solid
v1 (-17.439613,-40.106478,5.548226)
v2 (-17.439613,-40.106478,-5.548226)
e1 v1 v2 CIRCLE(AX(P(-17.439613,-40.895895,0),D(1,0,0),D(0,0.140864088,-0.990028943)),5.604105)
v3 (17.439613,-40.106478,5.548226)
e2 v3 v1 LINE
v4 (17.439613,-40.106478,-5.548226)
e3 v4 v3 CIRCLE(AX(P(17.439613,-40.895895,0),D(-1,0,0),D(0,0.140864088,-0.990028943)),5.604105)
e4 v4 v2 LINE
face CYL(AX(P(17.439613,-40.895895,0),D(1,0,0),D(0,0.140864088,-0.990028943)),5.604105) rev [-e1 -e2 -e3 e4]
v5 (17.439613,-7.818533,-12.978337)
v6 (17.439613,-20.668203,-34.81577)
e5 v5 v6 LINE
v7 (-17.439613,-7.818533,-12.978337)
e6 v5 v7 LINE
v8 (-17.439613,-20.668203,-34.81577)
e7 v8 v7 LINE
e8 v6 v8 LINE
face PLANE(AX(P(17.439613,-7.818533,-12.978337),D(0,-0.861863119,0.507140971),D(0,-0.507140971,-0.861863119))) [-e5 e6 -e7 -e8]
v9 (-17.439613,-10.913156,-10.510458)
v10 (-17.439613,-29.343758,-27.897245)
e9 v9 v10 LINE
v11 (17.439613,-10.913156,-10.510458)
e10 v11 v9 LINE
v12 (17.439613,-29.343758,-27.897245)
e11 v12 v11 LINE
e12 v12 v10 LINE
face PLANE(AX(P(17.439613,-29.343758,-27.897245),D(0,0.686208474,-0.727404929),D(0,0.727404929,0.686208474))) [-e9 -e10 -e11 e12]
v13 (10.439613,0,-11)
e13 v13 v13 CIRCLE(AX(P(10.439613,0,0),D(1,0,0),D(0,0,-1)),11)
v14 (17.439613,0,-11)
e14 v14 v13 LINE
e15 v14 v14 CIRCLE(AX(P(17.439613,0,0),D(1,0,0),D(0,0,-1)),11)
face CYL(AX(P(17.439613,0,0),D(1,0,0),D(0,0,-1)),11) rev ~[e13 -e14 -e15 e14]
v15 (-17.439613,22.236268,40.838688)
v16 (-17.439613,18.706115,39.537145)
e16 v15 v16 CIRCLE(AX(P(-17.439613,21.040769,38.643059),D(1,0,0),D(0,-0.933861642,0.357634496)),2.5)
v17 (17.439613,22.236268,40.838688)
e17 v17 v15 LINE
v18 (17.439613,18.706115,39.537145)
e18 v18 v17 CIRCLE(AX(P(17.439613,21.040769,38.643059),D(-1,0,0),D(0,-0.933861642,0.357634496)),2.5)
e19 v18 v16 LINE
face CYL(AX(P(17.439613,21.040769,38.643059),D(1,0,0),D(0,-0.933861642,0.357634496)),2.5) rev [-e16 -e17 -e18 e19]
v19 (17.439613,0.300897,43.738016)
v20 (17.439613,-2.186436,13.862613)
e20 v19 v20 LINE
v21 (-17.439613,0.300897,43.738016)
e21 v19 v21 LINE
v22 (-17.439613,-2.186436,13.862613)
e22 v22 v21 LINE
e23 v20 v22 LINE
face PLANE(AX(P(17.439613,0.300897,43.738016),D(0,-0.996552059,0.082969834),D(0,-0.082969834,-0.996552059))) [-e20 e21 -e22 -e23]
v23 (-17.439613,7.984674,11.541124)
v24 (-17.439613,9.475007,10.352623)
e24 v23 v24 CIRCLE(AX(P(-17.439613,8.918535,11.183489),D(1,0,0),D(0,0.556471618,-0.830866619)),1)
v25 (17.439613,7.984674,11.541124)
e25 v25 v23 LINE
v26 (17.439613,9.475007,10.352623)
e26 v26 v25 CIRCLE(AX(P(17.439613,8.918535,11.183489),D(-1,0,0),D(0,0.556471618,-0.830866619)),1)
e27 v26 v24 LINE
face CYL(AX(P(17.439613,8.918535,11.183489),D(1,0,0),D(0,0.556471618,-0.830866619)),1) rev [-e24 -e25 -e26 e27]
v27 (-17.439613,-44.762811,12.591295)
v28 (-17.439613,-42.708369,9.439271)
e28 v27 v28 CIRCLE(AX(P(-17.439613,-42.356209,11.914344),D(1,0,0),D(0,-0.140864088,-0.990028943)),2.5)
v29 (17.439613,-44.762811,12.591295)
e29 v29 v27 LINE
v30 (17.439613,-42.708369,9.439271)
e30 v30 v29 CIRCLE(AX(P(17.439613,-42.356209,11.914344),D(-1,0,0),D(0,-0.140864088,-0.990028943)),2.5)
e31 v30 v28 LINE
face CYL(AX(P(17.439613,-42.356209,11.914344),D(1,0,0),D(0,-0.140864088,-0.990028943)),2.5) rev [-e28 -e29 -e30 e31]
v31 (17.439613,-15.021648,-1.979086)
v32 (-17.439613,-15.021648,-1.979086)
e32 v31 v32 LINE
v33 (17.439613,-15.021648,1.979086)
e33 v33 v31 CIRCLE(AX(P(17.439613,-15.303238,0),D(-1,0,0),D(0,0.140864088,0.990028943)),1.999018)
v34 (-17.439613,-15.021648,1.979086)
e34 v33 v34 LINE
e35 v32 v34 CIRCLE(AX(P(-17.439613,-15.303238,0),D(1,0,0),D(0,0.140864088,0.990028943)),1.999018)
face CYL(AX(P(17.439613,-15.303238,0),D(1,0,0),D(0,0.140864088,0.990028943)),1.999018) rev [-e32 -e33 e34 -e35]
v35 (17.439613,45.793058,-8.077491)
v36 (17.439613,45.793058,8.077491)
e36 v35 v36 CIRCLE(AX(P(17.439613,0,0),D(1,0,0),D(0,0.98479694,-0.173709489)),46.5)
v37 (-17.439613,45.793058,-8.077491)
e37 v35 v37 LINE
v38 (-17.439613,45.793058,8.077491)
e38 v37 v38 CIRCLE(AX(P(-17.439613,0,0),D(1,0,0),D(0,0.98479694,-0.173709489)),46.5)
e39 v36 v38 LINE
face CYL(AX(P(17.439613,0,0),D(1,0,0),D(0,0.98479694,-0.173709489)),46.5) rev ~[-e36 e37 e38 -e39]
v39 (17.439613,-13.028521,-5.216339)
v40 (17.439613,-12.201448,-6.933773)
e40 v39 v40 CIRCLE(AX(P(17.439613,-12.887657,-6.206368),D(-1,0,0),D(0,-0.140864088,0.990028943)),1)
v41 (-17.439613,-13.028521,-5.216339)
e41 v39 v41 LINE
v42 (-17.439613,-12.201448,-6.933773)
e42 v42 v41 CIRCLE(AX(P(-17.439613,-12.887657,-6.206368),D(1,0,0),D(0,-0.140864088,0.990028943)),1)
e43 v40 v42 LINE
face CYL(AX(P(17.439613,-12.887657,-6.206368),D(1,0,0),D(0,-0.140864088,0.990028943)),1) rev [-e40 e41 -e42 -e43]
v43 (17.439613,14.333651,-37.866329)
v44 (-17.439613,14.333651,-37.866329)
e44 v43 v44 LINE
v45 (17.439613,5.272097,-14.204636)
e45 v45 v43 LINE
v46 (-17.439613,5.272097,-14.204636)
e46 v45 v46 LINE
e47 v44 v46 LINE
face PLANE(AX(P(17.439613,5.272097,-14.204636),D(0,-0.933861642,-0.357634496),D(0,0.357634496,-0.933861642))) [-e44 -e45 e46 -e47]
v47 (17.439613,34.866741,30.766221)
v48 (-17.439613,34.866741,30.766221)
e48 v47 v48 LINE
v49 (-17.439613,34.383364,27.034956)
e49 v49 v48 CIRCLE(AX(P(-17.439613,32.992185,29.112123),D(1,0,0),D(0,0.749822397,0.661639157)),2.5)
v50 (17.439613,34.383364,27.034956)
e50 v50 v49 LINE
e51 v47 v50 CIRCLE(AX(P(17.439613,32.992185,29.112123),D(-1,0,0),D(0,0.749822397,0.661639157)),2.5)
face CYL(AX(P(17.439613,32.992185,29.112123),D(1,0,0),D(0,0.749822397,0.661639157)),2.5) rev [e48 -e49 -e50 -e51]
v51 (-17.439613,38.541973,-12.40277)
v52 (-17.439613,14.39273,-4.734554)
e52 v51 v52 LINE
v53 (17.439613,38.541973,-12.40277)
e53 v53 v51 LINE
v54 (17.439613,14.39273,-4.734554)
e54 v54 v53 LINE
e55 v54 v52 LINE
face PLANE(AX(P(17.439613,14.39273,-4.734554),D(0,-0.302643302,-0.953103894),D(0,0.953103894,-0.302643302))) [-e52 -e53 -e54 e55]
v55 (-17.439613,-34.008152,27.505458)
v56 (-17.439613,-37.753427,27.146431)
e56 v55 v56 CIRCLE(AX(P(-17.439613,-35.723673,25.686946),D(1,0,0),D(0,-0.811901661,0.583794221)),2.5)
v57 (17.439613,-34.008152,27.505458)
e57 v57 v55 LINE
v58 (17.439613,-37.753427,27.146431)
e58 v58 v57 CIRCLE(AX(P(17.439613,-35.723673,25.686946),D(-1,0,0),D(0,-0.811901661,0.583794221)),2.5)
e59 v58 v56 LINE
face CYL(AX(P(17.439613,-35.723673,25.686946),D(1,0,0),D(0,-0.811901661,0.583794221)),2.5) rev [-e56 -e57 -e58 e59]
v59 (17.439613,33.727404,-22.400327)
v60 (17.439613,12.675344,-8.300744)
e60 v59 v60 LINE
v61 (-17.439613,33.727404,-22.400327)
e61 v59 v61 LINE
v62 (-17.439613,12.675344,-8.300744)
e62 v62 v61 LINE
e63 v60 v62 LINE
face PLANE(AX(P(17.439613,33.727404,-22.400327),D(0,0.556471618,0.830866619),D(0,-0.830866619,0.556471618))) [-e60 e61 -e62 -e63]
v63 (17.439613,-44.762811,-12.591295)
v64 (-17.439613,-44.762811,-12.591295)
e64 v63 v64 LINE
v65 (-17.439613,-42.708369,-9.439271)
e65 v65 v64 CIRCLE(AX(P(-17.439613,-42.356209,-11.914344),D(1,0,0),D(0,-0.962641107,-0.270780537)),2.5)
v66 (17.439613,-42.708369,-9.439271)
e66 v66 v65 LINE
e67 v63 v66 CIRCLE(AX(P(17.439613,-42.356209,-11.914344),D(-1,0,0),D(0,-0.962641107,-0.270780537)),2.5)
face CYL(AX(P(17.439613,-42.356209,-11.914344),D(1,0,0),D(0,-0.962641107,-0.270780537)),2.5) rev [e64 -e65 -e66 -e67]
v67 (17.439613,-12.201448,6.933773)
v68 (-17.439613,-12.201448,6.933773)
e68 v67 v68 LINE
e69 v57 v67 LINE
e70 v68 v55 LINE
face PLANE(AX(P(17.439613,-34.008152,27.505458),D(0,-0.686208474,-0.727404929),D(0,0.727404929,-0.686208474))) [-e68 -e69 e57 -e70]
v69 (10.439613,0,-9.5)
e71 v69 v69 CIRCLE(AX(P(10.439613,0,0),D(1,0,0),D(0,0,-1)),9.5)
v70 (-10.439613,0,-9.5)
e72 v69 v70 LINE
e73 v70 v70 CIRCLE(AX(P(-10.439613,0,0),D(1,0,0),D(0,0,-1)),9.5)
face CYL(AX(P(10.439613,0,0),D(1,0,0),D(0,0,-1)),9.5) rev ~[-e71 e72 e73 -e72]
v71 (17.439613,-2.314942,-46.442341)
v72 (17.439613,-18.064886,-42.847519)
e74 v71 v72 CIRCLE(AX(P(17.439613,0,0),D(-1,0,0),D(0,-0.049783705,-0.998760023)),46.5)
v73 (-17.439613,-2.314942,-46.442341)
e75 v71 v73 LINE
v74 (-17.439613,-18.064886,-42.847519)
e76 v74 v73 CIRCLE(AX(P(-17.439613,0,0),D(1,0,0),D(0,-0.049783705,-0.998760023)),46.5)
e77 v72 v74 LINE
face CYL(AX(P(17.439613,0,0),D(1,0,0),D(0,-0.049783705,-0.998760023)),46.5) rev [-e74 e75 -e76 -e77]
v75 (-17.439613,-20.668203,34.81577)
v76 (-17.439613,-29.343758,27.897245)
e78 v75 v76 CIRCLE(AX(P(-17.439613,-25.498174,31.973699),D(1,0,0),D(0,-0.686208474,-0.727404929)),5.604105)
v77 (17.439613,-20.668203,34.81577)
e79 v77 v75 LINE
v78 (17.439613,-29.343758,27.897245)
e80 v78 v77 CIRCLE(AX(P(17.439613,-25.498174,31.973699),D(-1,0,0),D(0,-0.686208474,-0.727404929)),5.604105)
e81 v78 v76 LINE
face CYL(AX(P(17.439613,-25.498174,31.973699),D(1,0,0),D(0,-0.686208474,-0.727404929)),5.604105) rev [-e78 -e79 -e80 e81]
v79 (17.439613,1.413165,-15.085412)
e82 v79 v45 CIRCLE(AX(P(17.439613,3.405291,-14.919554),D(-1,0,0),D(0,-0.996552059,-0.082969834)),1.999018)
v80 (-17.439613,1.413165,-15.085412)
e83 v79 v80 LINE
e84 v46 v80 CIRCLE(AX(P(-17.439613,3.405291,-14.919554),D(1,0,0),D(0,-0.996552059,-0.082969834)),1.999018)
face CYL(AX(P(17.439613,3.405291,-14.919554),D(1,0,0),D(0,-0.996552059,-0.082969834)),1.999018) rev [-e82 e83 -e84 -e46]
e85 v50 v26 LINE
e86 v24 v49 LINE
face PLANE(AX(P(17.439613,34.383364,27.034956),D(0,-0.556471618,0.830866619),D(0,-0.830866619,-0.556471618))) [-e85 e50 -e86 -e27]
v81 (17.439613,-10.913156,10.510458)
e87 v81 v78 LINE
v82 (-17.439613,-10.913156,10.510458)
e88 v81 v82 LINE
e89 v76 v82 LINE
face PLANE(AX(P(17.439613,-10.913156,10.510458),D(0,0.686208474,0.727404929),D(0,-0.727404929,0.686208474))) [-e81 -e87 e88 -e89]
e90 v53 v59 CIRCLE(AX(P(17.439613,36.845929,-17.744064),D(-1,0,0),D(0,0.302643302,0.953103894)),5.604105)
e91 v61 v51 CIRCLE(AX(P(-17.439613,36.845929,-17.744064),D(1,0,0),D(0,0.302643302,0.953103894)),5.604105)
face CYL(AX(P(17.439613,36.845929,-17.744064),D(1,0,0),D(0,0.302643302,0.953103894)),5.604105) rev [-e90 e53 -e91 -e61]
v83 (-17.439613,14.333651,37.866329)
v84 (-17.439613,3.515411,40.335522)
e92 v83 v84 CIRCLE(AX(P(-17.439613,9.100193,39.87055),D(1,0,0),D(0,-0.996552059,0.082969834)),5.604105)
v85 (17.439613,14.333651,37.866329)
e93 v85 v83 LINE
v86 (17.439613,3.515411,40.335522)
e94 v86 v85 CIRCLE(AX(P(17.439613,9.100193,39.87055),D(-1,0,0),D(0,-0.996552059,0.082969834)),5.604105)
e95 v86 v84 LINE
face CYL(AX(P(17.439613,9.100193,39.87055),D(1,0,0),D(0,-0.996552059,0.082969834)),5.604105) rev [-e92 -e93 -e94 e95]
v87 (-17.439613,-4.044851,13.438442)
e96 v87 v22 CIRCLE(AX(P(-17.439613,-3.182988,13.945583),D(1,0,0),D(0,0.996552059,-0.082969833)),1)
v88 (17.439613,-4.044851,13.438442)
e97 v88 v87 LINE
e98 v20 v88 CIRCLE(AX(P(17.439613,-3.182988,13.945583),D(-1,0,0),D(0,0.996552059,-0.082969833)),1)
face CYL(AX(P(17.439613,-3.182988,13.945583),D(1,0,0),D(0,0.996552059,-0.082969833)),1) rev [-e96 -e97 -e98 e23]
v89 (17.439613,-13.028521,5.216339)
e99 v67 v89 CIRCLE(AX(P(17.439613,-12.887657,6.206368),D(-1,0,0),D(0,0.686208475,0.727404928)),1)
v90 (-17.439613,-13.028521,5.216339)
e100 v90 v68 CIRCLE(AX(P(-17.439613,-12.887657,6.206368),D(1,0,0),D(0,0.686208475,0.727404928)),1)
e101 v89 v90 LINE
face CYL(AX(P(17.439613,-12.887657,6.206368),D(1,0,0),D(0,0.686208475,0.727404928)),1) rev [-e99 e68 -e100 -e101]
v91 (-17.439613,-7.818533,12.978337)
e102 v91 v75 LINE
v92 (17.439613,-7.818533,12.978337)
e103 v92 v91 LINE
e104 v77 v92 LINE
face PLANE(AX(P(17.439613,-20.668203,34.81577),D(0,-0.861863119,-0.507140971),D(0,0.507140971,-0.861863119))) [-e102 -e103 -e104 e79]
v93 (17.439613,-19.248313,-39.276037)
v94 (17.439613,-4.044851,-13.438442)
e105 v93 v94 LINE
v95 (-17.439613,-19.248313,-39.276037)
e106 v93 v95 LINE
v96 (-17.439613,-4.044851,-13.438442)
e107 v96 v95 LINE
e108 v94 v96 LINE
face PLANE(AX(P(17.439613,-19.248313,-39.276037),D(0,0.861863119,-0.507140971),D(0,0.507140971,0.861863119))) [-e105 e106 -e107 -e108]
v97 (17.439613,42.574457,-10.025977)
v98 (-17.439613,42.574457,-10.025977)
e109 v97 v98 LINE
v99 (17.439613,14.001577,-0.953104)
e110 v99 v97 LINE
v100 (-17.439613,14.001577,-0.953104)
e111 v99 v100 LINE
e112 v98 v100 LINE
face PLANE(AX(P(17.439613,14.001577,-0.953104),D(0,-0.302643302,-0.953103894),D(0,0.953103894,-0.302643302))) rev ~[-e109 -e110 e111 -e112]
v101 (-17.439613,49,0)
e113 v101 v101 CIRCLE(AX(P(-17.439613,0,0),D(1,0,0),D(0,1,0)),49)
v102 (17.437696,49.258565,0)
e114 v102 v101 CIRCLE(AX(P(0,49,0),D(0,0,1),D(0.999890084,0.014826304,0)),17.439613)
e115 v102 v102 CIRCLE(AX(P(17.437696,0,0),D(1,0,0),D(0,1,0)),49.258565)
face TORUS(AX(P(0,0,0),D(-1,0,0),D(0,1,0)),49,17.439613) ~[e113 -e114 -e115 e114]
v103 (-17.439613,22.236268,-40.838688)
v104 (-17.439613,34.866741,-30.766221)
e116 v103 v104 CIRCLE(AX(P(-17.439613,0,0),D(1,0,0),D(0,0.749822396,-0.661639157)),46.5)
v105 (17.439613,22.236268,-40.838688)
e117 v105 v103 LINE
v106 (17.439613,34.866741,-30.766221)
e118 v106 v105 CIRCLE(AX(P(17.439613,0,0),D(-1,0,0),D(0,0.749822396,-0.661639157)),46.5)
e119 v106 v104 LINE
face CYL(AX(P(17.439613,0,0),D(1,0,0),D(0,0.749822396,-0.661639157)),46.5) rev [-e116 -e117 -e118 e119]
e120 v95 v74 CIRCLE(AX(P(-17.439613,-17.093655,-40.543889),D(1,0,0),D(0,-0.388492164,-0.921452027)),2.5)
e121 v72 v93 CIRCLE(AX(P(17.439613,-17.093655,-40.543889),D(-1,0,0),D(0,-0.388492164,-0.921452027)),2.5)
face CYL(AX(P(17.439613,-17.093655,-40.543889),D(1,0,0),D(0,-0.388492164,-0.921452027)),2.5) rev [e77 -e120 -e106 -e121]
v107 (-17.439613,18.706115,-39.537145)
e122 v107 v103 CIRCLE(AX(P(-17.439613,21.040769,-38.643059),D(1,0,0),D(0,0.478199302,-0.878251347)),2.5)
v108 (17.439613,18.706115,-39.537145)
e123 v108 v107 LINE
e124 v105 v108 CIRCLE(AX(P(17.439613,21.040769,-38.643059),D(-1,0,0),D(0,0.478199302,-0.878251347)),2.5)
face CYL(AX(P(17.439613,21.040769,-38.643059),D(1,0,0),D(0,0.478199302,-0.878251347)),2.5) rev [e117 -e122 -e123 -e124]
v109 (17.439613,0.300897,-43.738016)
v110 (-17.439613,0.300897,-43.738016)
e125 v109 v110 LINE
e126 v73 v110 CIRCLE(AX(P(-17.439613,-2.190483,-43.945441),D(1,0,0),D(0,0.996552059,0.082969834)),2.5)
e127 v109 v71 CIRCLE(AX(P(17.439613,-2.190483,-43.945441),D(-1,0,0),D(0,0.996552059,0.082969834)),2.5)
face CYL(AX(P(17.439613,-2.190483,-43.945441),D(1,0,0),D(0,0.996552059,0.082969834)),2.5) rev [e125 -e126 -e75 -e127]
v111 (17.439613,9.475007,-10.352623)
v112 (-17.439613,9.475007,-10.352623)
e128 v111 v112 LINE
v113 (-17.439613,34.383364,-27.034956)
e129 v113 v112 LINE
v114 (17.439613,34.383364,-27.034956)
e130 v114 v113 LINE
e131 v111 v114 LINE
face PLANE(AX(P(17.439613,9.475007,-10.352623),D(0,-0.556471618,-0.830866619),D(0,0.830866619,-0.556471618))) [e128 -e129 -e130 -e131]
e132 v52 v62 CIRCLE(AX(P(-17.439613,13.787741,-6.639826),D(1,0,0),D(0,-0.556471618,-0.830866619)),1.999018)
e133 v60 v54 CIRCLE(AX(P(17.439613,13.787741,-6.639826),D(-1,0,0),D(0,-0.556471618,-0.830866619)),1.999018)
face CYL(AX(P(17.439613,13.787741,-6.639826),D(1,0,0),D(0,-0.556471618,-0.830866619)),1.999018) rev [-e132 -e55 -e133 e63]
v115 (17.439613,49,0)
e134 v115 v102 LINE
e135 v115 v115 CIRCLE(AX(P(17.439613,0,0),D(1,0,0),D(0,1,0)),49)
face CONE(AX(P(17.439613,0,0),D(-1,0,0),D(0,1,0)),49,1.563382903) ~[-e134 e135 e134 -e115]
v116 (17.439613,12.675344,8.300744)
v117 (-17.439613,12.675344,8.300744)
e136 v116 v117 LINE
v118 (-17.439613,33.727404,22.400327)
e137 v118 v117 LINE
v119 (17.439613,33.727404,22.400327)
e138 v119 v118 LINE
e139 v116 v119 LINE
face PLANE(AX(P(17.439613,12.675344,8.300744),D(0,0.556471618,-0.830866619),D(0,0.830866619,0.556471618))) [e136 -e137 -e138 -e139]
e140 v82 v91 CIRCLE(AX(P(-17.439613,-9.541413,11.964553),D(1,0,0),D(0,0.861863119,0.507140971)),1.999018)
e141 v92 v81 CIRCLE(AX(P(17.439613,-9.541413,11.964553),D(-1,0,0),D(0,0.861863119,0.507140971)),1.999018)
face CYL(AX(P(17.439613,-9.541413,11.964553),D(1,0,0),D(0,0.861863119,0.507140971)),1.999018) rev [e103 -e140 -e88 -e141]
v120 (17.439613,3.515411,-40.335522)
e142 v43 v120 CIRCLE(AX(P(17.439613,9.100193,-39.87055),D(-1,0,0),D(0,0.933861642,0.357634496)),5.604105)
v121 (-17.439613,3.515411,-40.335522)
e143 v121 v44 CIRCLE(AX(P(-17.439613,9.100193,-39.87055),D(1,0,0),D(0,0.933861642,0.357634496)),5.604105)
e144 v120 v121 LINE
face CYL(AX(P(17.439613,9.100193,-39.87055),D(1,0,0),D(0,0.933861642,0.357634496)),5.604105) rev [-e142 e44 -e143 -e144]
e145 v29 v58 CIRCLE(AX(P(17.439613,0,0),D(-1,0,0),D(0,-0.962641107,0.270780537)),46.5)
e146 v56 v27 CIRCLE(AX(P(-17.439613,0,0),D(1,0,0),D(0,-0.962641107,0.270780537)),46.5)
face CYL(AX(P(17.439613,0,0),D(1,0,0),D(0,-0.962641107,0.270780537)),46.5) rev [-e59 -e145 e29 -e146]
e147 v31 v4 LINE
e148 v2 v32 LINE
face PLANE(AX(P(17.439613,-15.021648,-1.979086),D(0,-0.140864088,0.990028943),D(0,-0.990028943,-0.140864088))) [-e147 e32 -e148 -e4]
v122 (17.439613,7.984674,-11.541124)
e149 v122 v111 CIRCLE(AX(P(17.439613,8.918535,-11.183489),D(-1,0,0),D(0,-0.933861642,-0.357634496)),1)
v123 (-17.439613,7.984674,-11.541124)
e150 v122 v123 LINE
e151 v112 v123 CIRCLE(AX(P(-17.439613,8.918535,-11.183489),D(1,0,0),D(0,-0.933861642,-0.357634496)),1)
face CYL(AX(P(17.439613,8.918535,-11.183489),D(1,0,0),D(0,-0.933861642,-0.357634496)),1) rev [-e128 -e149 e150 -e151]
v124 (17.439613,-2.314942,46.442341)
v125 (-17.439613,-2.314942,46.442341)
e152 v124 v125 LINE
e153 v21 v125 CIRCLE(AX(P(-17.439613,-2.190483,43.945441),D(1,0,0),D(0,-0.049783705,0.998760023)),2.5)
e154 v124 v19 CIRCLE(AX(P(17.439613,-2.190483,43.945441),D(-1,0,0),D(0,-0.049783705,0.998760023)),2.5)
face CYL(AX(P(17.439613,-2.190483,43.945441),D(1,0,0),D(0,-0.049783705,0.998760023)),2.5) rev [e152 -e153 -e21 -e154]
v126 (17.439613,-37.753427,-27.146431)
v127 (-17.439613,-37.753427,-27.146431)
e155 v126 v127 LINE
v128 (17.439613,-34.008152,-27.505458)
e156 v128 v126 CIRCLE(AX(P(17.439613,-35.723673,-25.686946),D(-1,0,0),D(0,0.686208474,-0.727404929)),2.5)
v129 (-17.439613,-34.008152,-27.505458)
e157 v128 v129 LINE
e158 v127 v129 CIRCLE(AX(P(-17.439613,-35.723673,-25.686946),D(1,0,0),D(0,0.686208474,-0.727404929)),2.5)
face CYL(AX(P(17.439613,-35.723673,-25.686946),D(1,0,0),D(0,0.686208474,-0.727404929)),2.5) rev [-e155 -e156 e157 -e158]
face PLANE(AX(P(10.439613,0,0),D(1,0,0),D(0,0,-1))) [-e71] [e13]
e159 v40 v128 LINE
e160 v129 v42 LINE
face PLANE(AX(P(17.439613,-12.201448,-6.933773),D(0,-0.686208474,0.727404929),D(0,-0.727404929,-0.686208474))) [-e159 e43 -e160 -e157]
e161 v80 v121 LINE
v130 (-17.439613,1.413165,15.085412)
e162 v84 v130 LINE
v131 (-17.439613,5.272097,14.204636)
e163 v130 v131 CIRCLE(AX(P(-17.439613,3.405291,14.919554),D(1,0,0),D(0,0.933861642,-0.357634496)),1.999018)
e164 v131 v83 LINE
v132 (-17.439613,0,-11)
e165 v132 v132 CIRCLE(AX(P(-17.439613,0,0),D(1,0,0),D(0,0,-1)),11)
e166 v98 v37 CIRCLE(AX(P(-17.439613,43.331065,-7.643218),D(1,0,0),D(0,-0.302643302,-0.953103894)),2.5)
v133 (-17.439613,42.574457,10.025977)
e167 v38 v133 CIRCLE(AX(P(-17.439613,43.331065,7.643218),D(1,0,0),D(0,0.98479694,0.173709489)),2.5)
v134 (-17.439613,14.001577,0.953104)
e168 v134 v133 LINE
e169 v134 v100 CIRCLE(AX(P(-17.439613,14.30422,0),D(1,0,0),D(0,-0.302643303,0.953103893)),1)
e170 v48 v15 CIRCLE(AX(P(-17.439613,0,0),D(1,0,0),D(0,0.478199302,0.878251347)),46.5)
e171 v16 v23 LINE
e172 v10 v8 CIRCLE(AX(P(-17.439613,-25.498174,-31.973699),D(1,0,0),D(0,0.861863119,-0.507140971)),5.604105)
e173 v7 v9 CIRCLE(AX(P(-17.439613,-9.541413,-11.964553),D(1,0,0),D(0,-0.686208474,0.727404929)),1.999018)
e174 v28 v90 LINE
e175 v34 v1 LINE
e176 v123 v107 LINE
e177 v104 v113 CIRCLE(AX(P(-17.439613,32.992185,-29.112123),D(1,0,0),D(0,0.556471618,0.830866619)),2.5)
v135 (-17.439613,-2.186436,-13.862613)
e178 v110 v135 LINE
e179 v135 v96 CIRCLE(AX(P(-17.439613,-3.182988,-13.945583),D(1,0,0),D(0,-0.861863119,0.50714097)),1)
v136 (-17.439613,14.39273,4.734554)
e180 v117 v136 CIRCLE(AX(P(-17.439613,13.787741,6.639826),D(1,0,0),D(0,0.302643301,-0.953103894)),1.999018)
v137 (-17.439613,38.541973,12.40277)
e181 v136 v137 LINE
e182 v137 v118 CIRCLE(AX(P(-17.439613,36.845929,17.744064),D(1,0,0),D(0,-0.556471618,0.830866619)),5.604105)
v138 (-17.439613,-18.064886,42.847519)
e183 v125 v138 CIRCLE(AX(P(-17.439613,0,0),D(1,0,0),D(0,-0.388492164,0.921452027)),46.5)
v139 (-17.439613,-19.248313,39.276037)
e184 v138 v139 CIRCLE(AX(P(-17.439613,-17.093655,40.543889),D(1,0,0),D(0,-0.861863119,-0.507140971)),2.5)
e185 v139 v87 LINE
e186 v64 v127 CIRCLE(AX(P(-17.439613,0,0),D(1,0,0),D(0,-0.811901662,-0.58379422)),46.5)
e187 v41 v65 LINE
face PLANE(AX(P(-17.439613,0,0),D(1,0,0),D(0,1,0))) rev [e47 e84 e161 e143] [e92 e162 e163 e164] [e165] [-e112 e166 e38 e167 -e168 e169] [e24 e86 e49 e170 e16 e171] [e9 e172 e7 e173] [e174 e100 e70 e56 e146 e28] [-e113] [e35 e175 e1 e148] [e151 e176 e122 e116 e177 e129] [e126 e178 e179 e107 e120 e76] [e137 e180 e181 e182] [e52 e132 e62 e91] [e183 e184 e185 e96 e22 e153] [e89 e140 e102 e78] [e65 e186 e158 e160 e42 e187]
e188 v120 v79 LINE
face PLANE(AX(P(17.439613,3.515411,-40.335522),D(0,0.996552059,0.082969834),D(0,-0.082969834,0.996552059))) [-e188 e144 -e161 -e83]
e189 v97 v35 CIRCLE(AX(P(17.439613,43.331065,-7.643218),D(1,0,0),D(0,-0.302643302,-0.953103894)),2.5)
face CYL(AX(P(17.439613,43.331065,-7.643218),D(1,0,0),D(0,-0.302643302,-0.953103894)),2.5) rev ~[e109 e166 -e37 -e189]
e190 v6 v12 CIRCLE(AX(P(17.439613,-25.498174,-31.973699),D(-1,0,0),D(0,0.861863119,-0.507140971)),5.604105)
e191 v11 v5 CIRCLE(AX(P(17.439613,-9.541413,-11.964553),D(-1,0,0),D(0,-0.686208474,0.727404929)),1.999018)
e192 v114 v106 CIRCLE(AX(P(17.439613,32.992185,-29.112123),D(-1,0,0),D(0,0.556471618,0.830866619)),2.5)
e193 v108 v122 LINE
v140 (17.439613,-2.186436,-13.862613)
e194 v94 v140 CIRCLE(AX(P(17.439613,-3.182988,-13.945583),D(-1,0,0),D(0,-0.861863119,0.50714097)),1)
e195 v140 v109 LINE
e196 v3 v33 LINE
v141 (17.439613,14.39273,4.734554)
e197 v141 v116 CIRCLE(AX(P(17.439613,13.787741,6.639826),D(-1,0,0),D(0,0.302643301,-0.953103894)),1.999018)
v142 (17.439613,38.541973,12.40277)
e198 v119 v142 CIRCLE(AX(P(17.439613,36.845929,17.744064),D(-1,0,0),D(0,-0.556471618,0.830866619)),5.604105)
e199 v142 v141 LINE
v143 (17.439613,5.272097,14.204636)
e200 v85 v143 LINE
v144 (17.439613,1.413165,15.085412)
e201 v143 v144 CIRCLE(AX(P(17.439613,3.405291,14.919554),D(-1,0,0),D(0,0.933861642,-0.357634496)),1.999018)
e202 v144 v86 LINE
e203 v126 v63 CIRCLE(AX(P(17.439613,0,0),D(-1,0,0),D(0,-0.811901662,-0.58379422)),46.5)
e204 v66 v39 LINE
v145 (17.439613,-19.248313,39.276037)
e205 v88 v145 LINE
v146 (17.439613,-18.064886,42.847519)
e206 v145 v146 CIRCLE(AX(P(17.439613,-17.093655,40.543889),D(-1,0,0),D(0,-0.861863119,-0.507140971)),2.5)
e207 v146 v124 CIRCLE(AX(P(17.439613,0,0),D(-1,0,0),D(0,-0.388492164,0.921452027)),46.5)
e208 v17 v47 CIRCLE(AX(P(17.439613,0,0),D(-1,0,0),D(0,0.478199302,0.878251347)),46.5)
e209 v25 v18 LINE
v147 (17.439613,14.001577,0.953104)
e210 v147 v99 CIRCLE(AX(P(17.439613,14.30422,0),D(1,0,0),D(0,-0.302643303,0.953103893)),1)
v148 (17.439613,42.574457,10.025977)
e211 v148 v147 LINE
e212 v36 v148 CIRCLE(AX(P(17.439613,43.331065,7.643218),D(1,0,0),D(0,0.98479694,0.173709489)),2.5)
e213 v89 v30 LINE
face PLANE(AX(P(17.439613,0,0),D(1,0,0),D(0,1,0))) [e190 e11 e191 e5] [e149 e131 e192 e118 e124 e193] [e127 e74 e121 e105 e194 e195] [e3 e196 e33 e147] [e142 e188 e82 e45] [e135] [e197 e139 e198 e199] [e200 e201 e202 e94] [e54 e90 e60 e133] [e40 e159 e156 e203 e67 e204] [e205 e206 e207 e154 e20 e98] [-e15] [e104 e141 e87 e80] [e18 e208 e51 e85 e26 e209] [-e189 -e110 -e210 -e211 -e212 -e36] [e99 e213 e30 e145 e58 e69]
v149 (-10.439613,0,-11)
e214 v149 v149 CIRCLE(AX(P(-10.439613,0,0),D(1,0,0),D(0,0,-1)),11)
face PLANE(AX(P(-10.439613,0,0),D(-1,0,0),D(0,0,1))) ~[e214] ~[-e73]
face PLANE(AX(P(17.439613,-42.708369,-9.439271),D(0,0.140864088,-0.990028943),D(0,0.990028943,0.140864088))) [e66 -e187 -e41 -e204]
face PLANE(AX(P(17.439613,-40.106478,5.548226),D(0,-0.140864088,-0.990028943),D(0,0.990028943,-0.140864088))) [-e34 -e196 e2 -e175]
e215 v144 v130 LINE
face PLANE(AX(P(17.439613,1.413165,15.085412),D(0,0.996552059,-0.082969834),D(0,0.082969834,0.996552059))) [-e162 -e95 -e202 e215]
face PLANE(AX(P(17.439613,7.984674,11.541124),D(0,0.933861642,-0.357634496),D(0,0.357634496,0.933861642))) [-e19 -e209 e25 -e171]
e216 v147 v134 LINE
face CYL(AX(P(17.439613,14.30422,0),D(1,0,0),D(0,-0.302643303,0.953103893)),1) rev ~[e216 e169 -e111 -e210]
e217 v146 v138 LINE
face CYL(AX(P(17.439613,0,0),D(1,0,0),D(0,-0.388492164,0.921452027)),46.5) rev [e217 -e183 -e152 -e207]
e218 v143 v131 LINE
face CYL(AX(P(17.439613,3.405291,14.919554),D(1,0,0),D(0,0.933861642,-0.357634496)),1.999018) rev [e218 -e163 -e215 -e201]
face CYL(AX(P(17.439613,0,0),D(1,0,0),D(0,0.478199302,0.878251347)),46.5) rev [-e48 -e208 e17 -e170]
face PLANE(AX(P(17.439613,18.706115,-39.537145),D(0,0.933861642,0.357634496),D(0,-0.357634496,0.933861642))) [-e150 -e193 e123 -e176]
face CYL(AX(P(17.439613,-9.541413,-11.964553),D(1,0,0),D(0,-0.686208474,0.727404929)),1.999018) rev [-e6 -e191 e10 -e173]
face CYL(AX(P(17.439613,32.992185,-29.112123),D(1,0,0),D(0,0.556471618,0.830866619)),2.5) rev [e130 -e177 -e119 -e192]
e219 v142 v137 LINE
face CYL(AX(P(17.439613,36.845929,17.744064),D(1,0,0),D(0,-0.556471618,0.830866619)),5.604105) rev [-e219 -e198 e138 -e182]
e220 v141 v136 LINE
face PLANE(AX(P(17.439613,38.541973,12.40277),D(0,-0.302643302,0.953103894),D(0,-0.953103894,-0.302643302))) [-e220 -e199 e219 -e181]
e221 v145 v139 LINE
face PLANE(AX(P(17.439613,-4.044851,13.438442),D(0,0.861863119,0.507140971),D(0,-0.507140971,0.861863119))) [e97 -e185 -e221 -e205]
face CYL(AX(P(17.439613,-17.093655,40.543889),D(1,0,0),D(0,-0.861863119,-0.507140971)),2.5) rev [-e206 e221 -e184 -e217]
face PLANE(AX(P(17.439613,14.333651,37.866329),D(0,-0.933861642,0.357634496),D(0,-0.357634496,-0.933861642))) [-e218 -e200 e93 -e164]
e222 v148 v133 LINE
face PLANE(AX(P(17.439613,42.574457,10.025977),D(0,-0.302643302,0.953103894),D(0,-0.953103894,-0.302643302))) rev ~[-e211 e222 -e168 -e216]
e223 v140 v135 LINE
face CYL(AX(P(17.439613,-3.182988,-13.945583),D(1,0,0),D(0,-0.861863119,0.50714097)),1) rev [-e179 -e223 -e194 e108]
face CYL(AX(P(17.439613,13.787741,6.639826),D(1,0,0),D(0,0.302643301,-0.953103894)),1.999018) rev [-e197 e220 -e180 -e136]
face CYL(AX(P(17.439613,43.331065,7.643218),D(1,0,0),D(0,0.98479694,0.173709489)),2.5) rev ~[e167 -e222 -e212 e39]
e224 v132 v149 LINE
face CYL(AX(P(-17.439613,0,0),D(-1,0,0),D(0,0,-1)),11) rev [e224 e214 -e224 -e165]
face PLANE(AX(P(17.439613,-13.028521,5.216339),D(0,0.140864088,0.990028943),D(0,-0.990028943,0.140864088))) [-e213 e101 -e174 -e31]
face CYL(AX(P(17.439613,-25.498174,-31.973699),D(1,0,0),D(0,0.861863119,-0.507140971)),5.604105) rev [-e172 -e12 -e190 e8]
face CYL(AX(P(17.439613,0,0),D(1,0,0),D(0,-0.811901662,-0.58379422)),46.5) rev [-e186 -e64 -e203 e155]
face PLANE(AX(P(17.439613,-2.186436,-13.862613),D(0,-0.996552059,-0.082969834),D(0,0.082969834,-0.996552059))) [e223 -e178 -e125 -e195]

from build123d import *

# Parameters (mm, degrees)
SKETCH5_R               = 11
CUT_EXTRUDE1_DEPTH      = 7
SKETCH6_R               = 9.5
CUT_EXTRUDE2_DEPTH      = 8
CUT_EXTRUDE2_DEPTH_BACK = 28.879225258
CUT_EXTRUDE3_DEPTH      = 1
CUT_EXTRUDE3_DEPTH_BACK = 35.879225258


with BuildPart() as part:
    # Sketch2 → Revolve1 (revolve)
    with BuildSketch(Plane.XY):
        with BuildLine():
            Line((-14.019353848, 46.058143157), (14.019353848, 46.058143157))
            ThreePointArc((14.019353848, 46.058143157), (15.183914743, 48.1633599), (17.439612629, 49))
            Line((17.439612629, 49), (17.437695742, 49.258564993))
            ThreePointArc((17.437695742, 49.258564993), (-0.129286049, 66.439133401), (-17.439612629, 49))
            ThreePointArc((-17.439612629, 49), (-15.183914743, 48.1633599), (-14.019353848, 46.058143157))
        make_face()
    revolve(axis=Axis((-19.645151391, 0, 0), (1, 0, 0)))

    # Sketch4 → Revolve2 (revolve)
    with BuildSketch(Plane.XY):
        with BuildLine():
            Line((-14.019353848, 46.058143157), (14.019353848, 46.058143157))
            ThreePointArc((14.019353848, 46.058143157), (15.183914743, 48.1633599), (17.439612629, 49))
            Line((17.439612629, 49), (17.439612629, 0))
            Line((17.439612629, 0), (-17.439612629, 0))
            Line((-17.439612629, 0), (-17.439612629, 49))
            ThreePointArc((-17.439612629, 49), (-15.183914743, 48.1633599), (-14.019353848, 46.058143157))
        make_face()
    revolve(axis=Axis((-17.439612629, 0, 0), (1, 0, 0)))

    # Sketch5 → Cut-Extrude1 (cut)
    with BuildSketch(Plane(origin=(17.439612629, 0, 0), x_dir=(0, 0, -1), z_dir=(1, 0, 0))):
        Circle(SKETCH5_R)
    cut_extrude1 = extrude(amount=-CUT_EXTRUDE1_DEPTH, mode=Mode.SUBTRACT)

    # Mirror1: Cut-Extrude1 across plane
    add(cut_extrude1.mirror(Plane(origin=(0, 0, 0), x_dir=(0, 0, 1), z_dir=(1, 0, 0))), mode=Mode.SUBTRACT)

    # Sketch6 → Cut-Extrude2 (cut, two sides)
    with BuildSketch(Plane(origin=(10.439612629, 0, 0), x_dir=(0, 0, -1), z_dir=(1, 0, 0))) as cut_extrude2_sk:
        Circle(SKETCH6_R)
    extrude(amount=CUT_EXTRUDE2_DEPTH, mode=Mode.SUBTRACT)
    extrude(cut_extrude2_sk.sketch, amount=-CUT_EXTRUDE2_DEPTH_BACK, mode=Mode.SUBTRACT)

    # Sketch7 → Cut-Extrude3 (cut, two sides)
    with BuildSketch(Plane(origin=(17.439612629, 0, 0), x_dir=(0, 0, -1), z_dir=(1, 0, 0))) as cut_extrude3_sk:
        with BuildLine():
            Line((0.953103894, 14.00157653), (10.025977251, 42.574457114))
            ThreePointArc((10.025977251, 42.574457114), (9.781854194, 44.625759604), (8.07749124, 45.793057719))
            ThreePointArc((8.07749124, 45.793057719), (0, 46.5), (-8.07749124, 45.793057719))
            ThreePointArc((-8.07749124, 45.793057719), (-9.781854194, 44.625759604), (-10.025977251, 42.574457114))
            Line((-10.025977251, 42.574457114), (-0.953103894, 14.00157653))
            ThreePointArc((-0.953103894, 14.00157653), (0, 13.304219832), (0.953103894, 14.00157653))
        make_face()
        with BuildLine():
            Line((10.352622778, 9.475006807), (27.034956351, 34.383364488))
            ThreePointArc((27.034956351, 34.383364488), (28.790937454, 35.471467579), (30.766220791, 34.866741434))
            ThreePointArc((30.766220791, 34.866741434), (36.355163935, 28.992275786), (40.838687616, 22.236267533))
            ThreePointArc((40.838687616, 22.236267533), (40.988710121, 20.175944447), (39.53714549, 18.706115173))
            Line((39.53714549, 18.706115173), (11.541123893, 7.984673547))
            ThreePointArc((11.541123893, 7.984673547), (10.401657915, 8.295045387), (10.352622778, 9.475006807))
        make_face()
        with BuildLine():
            Line((13.862613343, -2.186436297), (43.738016408, 0.300897109))
            ThreePointArc((43.738016408, 0.300897109), (45.683565971, -0.393563019), (46.442341049, -2.314942302))
            ThreePointArc((46.442341049, -2.314942302), (45.334147916, -10.347223429), (42.84751926, -18.064885642))
            ThreePointArc((42.84751926, -18.064885642), (41.330231309, -19.466768393), (39.276036765, -19.248313029))
            Line((39.276036765, -19.248313029), (13.438442206, -4.044851475))
            ThreePointArc((13.438442206, -4.044851475), (12.970655264, -2.960467423), (13.862613343, -2.186436297))
        make_face()
        with BuildLine():
            Line((6.933773315, -12.201448274), (27.505458017, -34.00815193))
            ThreePointArc((27.505458017, -34.00815193), (28.175537537, -35.962232636), (27.146431247, -37.753427269))
            ThreePointArc((27.146431247, -37.753427269), (20.175593869, -41.895052357), (12.591294971, -44.762811473))
            ThreePointArc((12.591294971, -44.762811473), (10.549245338, -44.450607583), (9.43927127, -42.708368926))
            Line((9.43927127, -42.708368926), (5.216339443, -13.028520837))
            ThreePointArc((5.216339443, -13.028520837), (5.772484647, -11.986687881), (6.933773315, -12.201448274))
        make_face()
        with BuildLine():
            Line((-5.216339443, -13.028520837), (-9.43927127, -42.708368926))
            ThreePointArc((-9.43927127, -42.708368926), (-10.549245338, -44.450607583), (-12.591294971, -44.762811473))
            ThreePointArc((-12.591294971, -44.762811473), (-20.175593869, -41.895052357), (-27.146431247, -37.753427269))
            ThreePointArc((-27.146431247, -37.753427269), (-28.175537537, -35.962232636), (-27.505458017, -34.00815193))
            Line((-27.505458017, -34.00815193), (-6.933773315, -12.201448274))
            ThreePointArc((-6.933773315, -12.201448274), (-5.772484647, -11.986687881), (-5.216339443, -13.028520837))
        make_face()
        with BuildLine():
            Line((-13.438442206, -4.044851475), (-39.276036765, -19.248313029))
            ThreePointArc((-39.276036765, -19.248313029), (-41.330231309, -19.466768393), (-42.84751926, -18.064885642))
            ThreePointArc((-42.84751926, -18.064885642), (-45.334147916, -10.347223429), (-46.442341049, -2.314942302))
            ThreePointArc((-46.442341049, -2.314942302), (-45.683565971, -0.393563019), (-43.738016408, 0.300897109))
            Line((-43.738016408, 0.300897109), (-13.862613343, -2.186436297))
            ThreePointArc((-13.862613343, -2.186436297), (-12.970655264, -2.960467423), (-13.438442206, -4.044851475))
        make_face()
        with BuildLine():
            Line((-11.541123893, 7.984673547), (-39.53714549, 18.706115173))
            ThreePointArc((-39.53714549, 18.706115173), (-40.988710121, 20.175944447), (-40.838687616, 22.236267533))
            ThreePointArc((-40.838687616, 22.236267533), (-36.355163935, 28.992275786), (-30.766220791, 34.866741434))
            ThreePointArc((-30.766220791, 34.866741434), (-28.790937454, 35.471467579), (-27.034956351, 34.383364488))
            Line((-27.034956351, 34.383364488), (-10.352622778, 9.475006807))
            ThreePointArc((-10.352622778, 9.475006807), (-10.401657915, 8.295045387), (-11.541123893, 7.984673547))
        make_face()
        with BuildLine():
            Line((4.734554138, 14.392730444), (12.402770228, 38.541973357))
            ThreePointArc((12.402770228, 38.541973357), (20.175593869, 41.895052357), (22.400327415, 33.727403566))
            Line((22.400327415, 33.727403566), (8.300743558, 12.675344134))
            ThreePointArc((8.300743558, 12.675344134), (5.772484647, 11.986687881), (4.734554138, 14.392730444))
        make_face()
        with BuildLine():
            Line((14.204636001, 5.272097172), (37.866328919, 14.333651097))
            ThreePointArc((37.866328919, 14.333651097), (45.334147916, 10.347223429), (40.335521631, 3.515410976))
            Line((40.335521631, 3.515410976), (15.085412051, 1.413165161))
            ThreePointArc((15.085412051, 1.413165161), (12.970655264, 2.960467423), (14.204636001, 5.272097172))
        make_face()
        with BuildLine():
            Line((12.978337234, -7.818532802), (34.815769602, -20.668202792))
            ThreePointArc((34.815769602, -20.668202792), (36.355163935, -28.992275786), (27.897245365, -29.34375778))
            Line((27.897245365, -29.34375778), (10.510457583, -10.913156002))
            ThreePointArc((10.510457583, -10.913156002), (10.401657915, -8.295045387), (12.978337234, -7.818532802))
        make_face()
        with BuildLine():
            Line((1.979085819, -15.021648107), (5.548225662, -40.106478424))
            ThreePointArc((5.548225662, -40.106478424), (0, -46.5), (-5.548225662, -40.106478424))
            Line((-5.548225662, -40.106478424), (-1.979085819, -15.021648107))
            ThreePointArc((-1.979085819, -15.021648107), (0, -13.304219832), (1.979085819, -15.021648107))
        make_face()
        with BuildLine():
            Line((-10.510457583, -10.913156002), (-27.897245365, -29.34375778))
            ThreePointArc((-27.897245365, -29.34375778), (-36.355163935, -28.992275786), (-34.815769602, -20.668202792))
            Line((-34.815769602, -20.668202792), (-12.978337234, -7.818532802))
            ThreePointArc((-12.978337234, -7.818532802), (-10.401657915, -8.295045387), (-10.510457583, -10.913156002))
        make_face()
        with BuildLine():
            Line((-15.085412051, 1.413165161), (-40.335521631, 3.515410976))
            ThreePointArc((-40.335521631, 3.515410976), (-45.334147916, 10.347223429), (-37.866328919, 14.333651097))
            Line((-37.866328919, 14.333651097), (-14.204636001, 5.272097172))
            ThreePointArc((-14.204636001, 5.272097172), (-12.970655264, 2.960467423), (-15.085412051, 1.413165161))
        make_face()
        with BuildLine():
            Line((-8.300743558, 12.675344134), (-22.400327415, 33.727403566))
            ThreePointArc((-22.400327415, 33.727403566), (-20.175593869, 41.895052357), (-12.402770228, 38.541973357))
            Line((-12.402770228, 38.541973357), (-4.734554138, 14.392730444))
            ThreePointArc((-4.734554138, 14.392730444), (-5.772484647, 11.986687881), (-8.300743558, 12.675344134))
        make_face()
    extrude(amount=CUT_EXTRUDE3_DEPTH, mode=Mode.SUBTRACT)
    extrude(cut_extrude3_sk.sketch, amount=-CUT_EXTRUDE3_DEPTH_BACK, mode=Mode.SUBTRACT)


solid = part.part
